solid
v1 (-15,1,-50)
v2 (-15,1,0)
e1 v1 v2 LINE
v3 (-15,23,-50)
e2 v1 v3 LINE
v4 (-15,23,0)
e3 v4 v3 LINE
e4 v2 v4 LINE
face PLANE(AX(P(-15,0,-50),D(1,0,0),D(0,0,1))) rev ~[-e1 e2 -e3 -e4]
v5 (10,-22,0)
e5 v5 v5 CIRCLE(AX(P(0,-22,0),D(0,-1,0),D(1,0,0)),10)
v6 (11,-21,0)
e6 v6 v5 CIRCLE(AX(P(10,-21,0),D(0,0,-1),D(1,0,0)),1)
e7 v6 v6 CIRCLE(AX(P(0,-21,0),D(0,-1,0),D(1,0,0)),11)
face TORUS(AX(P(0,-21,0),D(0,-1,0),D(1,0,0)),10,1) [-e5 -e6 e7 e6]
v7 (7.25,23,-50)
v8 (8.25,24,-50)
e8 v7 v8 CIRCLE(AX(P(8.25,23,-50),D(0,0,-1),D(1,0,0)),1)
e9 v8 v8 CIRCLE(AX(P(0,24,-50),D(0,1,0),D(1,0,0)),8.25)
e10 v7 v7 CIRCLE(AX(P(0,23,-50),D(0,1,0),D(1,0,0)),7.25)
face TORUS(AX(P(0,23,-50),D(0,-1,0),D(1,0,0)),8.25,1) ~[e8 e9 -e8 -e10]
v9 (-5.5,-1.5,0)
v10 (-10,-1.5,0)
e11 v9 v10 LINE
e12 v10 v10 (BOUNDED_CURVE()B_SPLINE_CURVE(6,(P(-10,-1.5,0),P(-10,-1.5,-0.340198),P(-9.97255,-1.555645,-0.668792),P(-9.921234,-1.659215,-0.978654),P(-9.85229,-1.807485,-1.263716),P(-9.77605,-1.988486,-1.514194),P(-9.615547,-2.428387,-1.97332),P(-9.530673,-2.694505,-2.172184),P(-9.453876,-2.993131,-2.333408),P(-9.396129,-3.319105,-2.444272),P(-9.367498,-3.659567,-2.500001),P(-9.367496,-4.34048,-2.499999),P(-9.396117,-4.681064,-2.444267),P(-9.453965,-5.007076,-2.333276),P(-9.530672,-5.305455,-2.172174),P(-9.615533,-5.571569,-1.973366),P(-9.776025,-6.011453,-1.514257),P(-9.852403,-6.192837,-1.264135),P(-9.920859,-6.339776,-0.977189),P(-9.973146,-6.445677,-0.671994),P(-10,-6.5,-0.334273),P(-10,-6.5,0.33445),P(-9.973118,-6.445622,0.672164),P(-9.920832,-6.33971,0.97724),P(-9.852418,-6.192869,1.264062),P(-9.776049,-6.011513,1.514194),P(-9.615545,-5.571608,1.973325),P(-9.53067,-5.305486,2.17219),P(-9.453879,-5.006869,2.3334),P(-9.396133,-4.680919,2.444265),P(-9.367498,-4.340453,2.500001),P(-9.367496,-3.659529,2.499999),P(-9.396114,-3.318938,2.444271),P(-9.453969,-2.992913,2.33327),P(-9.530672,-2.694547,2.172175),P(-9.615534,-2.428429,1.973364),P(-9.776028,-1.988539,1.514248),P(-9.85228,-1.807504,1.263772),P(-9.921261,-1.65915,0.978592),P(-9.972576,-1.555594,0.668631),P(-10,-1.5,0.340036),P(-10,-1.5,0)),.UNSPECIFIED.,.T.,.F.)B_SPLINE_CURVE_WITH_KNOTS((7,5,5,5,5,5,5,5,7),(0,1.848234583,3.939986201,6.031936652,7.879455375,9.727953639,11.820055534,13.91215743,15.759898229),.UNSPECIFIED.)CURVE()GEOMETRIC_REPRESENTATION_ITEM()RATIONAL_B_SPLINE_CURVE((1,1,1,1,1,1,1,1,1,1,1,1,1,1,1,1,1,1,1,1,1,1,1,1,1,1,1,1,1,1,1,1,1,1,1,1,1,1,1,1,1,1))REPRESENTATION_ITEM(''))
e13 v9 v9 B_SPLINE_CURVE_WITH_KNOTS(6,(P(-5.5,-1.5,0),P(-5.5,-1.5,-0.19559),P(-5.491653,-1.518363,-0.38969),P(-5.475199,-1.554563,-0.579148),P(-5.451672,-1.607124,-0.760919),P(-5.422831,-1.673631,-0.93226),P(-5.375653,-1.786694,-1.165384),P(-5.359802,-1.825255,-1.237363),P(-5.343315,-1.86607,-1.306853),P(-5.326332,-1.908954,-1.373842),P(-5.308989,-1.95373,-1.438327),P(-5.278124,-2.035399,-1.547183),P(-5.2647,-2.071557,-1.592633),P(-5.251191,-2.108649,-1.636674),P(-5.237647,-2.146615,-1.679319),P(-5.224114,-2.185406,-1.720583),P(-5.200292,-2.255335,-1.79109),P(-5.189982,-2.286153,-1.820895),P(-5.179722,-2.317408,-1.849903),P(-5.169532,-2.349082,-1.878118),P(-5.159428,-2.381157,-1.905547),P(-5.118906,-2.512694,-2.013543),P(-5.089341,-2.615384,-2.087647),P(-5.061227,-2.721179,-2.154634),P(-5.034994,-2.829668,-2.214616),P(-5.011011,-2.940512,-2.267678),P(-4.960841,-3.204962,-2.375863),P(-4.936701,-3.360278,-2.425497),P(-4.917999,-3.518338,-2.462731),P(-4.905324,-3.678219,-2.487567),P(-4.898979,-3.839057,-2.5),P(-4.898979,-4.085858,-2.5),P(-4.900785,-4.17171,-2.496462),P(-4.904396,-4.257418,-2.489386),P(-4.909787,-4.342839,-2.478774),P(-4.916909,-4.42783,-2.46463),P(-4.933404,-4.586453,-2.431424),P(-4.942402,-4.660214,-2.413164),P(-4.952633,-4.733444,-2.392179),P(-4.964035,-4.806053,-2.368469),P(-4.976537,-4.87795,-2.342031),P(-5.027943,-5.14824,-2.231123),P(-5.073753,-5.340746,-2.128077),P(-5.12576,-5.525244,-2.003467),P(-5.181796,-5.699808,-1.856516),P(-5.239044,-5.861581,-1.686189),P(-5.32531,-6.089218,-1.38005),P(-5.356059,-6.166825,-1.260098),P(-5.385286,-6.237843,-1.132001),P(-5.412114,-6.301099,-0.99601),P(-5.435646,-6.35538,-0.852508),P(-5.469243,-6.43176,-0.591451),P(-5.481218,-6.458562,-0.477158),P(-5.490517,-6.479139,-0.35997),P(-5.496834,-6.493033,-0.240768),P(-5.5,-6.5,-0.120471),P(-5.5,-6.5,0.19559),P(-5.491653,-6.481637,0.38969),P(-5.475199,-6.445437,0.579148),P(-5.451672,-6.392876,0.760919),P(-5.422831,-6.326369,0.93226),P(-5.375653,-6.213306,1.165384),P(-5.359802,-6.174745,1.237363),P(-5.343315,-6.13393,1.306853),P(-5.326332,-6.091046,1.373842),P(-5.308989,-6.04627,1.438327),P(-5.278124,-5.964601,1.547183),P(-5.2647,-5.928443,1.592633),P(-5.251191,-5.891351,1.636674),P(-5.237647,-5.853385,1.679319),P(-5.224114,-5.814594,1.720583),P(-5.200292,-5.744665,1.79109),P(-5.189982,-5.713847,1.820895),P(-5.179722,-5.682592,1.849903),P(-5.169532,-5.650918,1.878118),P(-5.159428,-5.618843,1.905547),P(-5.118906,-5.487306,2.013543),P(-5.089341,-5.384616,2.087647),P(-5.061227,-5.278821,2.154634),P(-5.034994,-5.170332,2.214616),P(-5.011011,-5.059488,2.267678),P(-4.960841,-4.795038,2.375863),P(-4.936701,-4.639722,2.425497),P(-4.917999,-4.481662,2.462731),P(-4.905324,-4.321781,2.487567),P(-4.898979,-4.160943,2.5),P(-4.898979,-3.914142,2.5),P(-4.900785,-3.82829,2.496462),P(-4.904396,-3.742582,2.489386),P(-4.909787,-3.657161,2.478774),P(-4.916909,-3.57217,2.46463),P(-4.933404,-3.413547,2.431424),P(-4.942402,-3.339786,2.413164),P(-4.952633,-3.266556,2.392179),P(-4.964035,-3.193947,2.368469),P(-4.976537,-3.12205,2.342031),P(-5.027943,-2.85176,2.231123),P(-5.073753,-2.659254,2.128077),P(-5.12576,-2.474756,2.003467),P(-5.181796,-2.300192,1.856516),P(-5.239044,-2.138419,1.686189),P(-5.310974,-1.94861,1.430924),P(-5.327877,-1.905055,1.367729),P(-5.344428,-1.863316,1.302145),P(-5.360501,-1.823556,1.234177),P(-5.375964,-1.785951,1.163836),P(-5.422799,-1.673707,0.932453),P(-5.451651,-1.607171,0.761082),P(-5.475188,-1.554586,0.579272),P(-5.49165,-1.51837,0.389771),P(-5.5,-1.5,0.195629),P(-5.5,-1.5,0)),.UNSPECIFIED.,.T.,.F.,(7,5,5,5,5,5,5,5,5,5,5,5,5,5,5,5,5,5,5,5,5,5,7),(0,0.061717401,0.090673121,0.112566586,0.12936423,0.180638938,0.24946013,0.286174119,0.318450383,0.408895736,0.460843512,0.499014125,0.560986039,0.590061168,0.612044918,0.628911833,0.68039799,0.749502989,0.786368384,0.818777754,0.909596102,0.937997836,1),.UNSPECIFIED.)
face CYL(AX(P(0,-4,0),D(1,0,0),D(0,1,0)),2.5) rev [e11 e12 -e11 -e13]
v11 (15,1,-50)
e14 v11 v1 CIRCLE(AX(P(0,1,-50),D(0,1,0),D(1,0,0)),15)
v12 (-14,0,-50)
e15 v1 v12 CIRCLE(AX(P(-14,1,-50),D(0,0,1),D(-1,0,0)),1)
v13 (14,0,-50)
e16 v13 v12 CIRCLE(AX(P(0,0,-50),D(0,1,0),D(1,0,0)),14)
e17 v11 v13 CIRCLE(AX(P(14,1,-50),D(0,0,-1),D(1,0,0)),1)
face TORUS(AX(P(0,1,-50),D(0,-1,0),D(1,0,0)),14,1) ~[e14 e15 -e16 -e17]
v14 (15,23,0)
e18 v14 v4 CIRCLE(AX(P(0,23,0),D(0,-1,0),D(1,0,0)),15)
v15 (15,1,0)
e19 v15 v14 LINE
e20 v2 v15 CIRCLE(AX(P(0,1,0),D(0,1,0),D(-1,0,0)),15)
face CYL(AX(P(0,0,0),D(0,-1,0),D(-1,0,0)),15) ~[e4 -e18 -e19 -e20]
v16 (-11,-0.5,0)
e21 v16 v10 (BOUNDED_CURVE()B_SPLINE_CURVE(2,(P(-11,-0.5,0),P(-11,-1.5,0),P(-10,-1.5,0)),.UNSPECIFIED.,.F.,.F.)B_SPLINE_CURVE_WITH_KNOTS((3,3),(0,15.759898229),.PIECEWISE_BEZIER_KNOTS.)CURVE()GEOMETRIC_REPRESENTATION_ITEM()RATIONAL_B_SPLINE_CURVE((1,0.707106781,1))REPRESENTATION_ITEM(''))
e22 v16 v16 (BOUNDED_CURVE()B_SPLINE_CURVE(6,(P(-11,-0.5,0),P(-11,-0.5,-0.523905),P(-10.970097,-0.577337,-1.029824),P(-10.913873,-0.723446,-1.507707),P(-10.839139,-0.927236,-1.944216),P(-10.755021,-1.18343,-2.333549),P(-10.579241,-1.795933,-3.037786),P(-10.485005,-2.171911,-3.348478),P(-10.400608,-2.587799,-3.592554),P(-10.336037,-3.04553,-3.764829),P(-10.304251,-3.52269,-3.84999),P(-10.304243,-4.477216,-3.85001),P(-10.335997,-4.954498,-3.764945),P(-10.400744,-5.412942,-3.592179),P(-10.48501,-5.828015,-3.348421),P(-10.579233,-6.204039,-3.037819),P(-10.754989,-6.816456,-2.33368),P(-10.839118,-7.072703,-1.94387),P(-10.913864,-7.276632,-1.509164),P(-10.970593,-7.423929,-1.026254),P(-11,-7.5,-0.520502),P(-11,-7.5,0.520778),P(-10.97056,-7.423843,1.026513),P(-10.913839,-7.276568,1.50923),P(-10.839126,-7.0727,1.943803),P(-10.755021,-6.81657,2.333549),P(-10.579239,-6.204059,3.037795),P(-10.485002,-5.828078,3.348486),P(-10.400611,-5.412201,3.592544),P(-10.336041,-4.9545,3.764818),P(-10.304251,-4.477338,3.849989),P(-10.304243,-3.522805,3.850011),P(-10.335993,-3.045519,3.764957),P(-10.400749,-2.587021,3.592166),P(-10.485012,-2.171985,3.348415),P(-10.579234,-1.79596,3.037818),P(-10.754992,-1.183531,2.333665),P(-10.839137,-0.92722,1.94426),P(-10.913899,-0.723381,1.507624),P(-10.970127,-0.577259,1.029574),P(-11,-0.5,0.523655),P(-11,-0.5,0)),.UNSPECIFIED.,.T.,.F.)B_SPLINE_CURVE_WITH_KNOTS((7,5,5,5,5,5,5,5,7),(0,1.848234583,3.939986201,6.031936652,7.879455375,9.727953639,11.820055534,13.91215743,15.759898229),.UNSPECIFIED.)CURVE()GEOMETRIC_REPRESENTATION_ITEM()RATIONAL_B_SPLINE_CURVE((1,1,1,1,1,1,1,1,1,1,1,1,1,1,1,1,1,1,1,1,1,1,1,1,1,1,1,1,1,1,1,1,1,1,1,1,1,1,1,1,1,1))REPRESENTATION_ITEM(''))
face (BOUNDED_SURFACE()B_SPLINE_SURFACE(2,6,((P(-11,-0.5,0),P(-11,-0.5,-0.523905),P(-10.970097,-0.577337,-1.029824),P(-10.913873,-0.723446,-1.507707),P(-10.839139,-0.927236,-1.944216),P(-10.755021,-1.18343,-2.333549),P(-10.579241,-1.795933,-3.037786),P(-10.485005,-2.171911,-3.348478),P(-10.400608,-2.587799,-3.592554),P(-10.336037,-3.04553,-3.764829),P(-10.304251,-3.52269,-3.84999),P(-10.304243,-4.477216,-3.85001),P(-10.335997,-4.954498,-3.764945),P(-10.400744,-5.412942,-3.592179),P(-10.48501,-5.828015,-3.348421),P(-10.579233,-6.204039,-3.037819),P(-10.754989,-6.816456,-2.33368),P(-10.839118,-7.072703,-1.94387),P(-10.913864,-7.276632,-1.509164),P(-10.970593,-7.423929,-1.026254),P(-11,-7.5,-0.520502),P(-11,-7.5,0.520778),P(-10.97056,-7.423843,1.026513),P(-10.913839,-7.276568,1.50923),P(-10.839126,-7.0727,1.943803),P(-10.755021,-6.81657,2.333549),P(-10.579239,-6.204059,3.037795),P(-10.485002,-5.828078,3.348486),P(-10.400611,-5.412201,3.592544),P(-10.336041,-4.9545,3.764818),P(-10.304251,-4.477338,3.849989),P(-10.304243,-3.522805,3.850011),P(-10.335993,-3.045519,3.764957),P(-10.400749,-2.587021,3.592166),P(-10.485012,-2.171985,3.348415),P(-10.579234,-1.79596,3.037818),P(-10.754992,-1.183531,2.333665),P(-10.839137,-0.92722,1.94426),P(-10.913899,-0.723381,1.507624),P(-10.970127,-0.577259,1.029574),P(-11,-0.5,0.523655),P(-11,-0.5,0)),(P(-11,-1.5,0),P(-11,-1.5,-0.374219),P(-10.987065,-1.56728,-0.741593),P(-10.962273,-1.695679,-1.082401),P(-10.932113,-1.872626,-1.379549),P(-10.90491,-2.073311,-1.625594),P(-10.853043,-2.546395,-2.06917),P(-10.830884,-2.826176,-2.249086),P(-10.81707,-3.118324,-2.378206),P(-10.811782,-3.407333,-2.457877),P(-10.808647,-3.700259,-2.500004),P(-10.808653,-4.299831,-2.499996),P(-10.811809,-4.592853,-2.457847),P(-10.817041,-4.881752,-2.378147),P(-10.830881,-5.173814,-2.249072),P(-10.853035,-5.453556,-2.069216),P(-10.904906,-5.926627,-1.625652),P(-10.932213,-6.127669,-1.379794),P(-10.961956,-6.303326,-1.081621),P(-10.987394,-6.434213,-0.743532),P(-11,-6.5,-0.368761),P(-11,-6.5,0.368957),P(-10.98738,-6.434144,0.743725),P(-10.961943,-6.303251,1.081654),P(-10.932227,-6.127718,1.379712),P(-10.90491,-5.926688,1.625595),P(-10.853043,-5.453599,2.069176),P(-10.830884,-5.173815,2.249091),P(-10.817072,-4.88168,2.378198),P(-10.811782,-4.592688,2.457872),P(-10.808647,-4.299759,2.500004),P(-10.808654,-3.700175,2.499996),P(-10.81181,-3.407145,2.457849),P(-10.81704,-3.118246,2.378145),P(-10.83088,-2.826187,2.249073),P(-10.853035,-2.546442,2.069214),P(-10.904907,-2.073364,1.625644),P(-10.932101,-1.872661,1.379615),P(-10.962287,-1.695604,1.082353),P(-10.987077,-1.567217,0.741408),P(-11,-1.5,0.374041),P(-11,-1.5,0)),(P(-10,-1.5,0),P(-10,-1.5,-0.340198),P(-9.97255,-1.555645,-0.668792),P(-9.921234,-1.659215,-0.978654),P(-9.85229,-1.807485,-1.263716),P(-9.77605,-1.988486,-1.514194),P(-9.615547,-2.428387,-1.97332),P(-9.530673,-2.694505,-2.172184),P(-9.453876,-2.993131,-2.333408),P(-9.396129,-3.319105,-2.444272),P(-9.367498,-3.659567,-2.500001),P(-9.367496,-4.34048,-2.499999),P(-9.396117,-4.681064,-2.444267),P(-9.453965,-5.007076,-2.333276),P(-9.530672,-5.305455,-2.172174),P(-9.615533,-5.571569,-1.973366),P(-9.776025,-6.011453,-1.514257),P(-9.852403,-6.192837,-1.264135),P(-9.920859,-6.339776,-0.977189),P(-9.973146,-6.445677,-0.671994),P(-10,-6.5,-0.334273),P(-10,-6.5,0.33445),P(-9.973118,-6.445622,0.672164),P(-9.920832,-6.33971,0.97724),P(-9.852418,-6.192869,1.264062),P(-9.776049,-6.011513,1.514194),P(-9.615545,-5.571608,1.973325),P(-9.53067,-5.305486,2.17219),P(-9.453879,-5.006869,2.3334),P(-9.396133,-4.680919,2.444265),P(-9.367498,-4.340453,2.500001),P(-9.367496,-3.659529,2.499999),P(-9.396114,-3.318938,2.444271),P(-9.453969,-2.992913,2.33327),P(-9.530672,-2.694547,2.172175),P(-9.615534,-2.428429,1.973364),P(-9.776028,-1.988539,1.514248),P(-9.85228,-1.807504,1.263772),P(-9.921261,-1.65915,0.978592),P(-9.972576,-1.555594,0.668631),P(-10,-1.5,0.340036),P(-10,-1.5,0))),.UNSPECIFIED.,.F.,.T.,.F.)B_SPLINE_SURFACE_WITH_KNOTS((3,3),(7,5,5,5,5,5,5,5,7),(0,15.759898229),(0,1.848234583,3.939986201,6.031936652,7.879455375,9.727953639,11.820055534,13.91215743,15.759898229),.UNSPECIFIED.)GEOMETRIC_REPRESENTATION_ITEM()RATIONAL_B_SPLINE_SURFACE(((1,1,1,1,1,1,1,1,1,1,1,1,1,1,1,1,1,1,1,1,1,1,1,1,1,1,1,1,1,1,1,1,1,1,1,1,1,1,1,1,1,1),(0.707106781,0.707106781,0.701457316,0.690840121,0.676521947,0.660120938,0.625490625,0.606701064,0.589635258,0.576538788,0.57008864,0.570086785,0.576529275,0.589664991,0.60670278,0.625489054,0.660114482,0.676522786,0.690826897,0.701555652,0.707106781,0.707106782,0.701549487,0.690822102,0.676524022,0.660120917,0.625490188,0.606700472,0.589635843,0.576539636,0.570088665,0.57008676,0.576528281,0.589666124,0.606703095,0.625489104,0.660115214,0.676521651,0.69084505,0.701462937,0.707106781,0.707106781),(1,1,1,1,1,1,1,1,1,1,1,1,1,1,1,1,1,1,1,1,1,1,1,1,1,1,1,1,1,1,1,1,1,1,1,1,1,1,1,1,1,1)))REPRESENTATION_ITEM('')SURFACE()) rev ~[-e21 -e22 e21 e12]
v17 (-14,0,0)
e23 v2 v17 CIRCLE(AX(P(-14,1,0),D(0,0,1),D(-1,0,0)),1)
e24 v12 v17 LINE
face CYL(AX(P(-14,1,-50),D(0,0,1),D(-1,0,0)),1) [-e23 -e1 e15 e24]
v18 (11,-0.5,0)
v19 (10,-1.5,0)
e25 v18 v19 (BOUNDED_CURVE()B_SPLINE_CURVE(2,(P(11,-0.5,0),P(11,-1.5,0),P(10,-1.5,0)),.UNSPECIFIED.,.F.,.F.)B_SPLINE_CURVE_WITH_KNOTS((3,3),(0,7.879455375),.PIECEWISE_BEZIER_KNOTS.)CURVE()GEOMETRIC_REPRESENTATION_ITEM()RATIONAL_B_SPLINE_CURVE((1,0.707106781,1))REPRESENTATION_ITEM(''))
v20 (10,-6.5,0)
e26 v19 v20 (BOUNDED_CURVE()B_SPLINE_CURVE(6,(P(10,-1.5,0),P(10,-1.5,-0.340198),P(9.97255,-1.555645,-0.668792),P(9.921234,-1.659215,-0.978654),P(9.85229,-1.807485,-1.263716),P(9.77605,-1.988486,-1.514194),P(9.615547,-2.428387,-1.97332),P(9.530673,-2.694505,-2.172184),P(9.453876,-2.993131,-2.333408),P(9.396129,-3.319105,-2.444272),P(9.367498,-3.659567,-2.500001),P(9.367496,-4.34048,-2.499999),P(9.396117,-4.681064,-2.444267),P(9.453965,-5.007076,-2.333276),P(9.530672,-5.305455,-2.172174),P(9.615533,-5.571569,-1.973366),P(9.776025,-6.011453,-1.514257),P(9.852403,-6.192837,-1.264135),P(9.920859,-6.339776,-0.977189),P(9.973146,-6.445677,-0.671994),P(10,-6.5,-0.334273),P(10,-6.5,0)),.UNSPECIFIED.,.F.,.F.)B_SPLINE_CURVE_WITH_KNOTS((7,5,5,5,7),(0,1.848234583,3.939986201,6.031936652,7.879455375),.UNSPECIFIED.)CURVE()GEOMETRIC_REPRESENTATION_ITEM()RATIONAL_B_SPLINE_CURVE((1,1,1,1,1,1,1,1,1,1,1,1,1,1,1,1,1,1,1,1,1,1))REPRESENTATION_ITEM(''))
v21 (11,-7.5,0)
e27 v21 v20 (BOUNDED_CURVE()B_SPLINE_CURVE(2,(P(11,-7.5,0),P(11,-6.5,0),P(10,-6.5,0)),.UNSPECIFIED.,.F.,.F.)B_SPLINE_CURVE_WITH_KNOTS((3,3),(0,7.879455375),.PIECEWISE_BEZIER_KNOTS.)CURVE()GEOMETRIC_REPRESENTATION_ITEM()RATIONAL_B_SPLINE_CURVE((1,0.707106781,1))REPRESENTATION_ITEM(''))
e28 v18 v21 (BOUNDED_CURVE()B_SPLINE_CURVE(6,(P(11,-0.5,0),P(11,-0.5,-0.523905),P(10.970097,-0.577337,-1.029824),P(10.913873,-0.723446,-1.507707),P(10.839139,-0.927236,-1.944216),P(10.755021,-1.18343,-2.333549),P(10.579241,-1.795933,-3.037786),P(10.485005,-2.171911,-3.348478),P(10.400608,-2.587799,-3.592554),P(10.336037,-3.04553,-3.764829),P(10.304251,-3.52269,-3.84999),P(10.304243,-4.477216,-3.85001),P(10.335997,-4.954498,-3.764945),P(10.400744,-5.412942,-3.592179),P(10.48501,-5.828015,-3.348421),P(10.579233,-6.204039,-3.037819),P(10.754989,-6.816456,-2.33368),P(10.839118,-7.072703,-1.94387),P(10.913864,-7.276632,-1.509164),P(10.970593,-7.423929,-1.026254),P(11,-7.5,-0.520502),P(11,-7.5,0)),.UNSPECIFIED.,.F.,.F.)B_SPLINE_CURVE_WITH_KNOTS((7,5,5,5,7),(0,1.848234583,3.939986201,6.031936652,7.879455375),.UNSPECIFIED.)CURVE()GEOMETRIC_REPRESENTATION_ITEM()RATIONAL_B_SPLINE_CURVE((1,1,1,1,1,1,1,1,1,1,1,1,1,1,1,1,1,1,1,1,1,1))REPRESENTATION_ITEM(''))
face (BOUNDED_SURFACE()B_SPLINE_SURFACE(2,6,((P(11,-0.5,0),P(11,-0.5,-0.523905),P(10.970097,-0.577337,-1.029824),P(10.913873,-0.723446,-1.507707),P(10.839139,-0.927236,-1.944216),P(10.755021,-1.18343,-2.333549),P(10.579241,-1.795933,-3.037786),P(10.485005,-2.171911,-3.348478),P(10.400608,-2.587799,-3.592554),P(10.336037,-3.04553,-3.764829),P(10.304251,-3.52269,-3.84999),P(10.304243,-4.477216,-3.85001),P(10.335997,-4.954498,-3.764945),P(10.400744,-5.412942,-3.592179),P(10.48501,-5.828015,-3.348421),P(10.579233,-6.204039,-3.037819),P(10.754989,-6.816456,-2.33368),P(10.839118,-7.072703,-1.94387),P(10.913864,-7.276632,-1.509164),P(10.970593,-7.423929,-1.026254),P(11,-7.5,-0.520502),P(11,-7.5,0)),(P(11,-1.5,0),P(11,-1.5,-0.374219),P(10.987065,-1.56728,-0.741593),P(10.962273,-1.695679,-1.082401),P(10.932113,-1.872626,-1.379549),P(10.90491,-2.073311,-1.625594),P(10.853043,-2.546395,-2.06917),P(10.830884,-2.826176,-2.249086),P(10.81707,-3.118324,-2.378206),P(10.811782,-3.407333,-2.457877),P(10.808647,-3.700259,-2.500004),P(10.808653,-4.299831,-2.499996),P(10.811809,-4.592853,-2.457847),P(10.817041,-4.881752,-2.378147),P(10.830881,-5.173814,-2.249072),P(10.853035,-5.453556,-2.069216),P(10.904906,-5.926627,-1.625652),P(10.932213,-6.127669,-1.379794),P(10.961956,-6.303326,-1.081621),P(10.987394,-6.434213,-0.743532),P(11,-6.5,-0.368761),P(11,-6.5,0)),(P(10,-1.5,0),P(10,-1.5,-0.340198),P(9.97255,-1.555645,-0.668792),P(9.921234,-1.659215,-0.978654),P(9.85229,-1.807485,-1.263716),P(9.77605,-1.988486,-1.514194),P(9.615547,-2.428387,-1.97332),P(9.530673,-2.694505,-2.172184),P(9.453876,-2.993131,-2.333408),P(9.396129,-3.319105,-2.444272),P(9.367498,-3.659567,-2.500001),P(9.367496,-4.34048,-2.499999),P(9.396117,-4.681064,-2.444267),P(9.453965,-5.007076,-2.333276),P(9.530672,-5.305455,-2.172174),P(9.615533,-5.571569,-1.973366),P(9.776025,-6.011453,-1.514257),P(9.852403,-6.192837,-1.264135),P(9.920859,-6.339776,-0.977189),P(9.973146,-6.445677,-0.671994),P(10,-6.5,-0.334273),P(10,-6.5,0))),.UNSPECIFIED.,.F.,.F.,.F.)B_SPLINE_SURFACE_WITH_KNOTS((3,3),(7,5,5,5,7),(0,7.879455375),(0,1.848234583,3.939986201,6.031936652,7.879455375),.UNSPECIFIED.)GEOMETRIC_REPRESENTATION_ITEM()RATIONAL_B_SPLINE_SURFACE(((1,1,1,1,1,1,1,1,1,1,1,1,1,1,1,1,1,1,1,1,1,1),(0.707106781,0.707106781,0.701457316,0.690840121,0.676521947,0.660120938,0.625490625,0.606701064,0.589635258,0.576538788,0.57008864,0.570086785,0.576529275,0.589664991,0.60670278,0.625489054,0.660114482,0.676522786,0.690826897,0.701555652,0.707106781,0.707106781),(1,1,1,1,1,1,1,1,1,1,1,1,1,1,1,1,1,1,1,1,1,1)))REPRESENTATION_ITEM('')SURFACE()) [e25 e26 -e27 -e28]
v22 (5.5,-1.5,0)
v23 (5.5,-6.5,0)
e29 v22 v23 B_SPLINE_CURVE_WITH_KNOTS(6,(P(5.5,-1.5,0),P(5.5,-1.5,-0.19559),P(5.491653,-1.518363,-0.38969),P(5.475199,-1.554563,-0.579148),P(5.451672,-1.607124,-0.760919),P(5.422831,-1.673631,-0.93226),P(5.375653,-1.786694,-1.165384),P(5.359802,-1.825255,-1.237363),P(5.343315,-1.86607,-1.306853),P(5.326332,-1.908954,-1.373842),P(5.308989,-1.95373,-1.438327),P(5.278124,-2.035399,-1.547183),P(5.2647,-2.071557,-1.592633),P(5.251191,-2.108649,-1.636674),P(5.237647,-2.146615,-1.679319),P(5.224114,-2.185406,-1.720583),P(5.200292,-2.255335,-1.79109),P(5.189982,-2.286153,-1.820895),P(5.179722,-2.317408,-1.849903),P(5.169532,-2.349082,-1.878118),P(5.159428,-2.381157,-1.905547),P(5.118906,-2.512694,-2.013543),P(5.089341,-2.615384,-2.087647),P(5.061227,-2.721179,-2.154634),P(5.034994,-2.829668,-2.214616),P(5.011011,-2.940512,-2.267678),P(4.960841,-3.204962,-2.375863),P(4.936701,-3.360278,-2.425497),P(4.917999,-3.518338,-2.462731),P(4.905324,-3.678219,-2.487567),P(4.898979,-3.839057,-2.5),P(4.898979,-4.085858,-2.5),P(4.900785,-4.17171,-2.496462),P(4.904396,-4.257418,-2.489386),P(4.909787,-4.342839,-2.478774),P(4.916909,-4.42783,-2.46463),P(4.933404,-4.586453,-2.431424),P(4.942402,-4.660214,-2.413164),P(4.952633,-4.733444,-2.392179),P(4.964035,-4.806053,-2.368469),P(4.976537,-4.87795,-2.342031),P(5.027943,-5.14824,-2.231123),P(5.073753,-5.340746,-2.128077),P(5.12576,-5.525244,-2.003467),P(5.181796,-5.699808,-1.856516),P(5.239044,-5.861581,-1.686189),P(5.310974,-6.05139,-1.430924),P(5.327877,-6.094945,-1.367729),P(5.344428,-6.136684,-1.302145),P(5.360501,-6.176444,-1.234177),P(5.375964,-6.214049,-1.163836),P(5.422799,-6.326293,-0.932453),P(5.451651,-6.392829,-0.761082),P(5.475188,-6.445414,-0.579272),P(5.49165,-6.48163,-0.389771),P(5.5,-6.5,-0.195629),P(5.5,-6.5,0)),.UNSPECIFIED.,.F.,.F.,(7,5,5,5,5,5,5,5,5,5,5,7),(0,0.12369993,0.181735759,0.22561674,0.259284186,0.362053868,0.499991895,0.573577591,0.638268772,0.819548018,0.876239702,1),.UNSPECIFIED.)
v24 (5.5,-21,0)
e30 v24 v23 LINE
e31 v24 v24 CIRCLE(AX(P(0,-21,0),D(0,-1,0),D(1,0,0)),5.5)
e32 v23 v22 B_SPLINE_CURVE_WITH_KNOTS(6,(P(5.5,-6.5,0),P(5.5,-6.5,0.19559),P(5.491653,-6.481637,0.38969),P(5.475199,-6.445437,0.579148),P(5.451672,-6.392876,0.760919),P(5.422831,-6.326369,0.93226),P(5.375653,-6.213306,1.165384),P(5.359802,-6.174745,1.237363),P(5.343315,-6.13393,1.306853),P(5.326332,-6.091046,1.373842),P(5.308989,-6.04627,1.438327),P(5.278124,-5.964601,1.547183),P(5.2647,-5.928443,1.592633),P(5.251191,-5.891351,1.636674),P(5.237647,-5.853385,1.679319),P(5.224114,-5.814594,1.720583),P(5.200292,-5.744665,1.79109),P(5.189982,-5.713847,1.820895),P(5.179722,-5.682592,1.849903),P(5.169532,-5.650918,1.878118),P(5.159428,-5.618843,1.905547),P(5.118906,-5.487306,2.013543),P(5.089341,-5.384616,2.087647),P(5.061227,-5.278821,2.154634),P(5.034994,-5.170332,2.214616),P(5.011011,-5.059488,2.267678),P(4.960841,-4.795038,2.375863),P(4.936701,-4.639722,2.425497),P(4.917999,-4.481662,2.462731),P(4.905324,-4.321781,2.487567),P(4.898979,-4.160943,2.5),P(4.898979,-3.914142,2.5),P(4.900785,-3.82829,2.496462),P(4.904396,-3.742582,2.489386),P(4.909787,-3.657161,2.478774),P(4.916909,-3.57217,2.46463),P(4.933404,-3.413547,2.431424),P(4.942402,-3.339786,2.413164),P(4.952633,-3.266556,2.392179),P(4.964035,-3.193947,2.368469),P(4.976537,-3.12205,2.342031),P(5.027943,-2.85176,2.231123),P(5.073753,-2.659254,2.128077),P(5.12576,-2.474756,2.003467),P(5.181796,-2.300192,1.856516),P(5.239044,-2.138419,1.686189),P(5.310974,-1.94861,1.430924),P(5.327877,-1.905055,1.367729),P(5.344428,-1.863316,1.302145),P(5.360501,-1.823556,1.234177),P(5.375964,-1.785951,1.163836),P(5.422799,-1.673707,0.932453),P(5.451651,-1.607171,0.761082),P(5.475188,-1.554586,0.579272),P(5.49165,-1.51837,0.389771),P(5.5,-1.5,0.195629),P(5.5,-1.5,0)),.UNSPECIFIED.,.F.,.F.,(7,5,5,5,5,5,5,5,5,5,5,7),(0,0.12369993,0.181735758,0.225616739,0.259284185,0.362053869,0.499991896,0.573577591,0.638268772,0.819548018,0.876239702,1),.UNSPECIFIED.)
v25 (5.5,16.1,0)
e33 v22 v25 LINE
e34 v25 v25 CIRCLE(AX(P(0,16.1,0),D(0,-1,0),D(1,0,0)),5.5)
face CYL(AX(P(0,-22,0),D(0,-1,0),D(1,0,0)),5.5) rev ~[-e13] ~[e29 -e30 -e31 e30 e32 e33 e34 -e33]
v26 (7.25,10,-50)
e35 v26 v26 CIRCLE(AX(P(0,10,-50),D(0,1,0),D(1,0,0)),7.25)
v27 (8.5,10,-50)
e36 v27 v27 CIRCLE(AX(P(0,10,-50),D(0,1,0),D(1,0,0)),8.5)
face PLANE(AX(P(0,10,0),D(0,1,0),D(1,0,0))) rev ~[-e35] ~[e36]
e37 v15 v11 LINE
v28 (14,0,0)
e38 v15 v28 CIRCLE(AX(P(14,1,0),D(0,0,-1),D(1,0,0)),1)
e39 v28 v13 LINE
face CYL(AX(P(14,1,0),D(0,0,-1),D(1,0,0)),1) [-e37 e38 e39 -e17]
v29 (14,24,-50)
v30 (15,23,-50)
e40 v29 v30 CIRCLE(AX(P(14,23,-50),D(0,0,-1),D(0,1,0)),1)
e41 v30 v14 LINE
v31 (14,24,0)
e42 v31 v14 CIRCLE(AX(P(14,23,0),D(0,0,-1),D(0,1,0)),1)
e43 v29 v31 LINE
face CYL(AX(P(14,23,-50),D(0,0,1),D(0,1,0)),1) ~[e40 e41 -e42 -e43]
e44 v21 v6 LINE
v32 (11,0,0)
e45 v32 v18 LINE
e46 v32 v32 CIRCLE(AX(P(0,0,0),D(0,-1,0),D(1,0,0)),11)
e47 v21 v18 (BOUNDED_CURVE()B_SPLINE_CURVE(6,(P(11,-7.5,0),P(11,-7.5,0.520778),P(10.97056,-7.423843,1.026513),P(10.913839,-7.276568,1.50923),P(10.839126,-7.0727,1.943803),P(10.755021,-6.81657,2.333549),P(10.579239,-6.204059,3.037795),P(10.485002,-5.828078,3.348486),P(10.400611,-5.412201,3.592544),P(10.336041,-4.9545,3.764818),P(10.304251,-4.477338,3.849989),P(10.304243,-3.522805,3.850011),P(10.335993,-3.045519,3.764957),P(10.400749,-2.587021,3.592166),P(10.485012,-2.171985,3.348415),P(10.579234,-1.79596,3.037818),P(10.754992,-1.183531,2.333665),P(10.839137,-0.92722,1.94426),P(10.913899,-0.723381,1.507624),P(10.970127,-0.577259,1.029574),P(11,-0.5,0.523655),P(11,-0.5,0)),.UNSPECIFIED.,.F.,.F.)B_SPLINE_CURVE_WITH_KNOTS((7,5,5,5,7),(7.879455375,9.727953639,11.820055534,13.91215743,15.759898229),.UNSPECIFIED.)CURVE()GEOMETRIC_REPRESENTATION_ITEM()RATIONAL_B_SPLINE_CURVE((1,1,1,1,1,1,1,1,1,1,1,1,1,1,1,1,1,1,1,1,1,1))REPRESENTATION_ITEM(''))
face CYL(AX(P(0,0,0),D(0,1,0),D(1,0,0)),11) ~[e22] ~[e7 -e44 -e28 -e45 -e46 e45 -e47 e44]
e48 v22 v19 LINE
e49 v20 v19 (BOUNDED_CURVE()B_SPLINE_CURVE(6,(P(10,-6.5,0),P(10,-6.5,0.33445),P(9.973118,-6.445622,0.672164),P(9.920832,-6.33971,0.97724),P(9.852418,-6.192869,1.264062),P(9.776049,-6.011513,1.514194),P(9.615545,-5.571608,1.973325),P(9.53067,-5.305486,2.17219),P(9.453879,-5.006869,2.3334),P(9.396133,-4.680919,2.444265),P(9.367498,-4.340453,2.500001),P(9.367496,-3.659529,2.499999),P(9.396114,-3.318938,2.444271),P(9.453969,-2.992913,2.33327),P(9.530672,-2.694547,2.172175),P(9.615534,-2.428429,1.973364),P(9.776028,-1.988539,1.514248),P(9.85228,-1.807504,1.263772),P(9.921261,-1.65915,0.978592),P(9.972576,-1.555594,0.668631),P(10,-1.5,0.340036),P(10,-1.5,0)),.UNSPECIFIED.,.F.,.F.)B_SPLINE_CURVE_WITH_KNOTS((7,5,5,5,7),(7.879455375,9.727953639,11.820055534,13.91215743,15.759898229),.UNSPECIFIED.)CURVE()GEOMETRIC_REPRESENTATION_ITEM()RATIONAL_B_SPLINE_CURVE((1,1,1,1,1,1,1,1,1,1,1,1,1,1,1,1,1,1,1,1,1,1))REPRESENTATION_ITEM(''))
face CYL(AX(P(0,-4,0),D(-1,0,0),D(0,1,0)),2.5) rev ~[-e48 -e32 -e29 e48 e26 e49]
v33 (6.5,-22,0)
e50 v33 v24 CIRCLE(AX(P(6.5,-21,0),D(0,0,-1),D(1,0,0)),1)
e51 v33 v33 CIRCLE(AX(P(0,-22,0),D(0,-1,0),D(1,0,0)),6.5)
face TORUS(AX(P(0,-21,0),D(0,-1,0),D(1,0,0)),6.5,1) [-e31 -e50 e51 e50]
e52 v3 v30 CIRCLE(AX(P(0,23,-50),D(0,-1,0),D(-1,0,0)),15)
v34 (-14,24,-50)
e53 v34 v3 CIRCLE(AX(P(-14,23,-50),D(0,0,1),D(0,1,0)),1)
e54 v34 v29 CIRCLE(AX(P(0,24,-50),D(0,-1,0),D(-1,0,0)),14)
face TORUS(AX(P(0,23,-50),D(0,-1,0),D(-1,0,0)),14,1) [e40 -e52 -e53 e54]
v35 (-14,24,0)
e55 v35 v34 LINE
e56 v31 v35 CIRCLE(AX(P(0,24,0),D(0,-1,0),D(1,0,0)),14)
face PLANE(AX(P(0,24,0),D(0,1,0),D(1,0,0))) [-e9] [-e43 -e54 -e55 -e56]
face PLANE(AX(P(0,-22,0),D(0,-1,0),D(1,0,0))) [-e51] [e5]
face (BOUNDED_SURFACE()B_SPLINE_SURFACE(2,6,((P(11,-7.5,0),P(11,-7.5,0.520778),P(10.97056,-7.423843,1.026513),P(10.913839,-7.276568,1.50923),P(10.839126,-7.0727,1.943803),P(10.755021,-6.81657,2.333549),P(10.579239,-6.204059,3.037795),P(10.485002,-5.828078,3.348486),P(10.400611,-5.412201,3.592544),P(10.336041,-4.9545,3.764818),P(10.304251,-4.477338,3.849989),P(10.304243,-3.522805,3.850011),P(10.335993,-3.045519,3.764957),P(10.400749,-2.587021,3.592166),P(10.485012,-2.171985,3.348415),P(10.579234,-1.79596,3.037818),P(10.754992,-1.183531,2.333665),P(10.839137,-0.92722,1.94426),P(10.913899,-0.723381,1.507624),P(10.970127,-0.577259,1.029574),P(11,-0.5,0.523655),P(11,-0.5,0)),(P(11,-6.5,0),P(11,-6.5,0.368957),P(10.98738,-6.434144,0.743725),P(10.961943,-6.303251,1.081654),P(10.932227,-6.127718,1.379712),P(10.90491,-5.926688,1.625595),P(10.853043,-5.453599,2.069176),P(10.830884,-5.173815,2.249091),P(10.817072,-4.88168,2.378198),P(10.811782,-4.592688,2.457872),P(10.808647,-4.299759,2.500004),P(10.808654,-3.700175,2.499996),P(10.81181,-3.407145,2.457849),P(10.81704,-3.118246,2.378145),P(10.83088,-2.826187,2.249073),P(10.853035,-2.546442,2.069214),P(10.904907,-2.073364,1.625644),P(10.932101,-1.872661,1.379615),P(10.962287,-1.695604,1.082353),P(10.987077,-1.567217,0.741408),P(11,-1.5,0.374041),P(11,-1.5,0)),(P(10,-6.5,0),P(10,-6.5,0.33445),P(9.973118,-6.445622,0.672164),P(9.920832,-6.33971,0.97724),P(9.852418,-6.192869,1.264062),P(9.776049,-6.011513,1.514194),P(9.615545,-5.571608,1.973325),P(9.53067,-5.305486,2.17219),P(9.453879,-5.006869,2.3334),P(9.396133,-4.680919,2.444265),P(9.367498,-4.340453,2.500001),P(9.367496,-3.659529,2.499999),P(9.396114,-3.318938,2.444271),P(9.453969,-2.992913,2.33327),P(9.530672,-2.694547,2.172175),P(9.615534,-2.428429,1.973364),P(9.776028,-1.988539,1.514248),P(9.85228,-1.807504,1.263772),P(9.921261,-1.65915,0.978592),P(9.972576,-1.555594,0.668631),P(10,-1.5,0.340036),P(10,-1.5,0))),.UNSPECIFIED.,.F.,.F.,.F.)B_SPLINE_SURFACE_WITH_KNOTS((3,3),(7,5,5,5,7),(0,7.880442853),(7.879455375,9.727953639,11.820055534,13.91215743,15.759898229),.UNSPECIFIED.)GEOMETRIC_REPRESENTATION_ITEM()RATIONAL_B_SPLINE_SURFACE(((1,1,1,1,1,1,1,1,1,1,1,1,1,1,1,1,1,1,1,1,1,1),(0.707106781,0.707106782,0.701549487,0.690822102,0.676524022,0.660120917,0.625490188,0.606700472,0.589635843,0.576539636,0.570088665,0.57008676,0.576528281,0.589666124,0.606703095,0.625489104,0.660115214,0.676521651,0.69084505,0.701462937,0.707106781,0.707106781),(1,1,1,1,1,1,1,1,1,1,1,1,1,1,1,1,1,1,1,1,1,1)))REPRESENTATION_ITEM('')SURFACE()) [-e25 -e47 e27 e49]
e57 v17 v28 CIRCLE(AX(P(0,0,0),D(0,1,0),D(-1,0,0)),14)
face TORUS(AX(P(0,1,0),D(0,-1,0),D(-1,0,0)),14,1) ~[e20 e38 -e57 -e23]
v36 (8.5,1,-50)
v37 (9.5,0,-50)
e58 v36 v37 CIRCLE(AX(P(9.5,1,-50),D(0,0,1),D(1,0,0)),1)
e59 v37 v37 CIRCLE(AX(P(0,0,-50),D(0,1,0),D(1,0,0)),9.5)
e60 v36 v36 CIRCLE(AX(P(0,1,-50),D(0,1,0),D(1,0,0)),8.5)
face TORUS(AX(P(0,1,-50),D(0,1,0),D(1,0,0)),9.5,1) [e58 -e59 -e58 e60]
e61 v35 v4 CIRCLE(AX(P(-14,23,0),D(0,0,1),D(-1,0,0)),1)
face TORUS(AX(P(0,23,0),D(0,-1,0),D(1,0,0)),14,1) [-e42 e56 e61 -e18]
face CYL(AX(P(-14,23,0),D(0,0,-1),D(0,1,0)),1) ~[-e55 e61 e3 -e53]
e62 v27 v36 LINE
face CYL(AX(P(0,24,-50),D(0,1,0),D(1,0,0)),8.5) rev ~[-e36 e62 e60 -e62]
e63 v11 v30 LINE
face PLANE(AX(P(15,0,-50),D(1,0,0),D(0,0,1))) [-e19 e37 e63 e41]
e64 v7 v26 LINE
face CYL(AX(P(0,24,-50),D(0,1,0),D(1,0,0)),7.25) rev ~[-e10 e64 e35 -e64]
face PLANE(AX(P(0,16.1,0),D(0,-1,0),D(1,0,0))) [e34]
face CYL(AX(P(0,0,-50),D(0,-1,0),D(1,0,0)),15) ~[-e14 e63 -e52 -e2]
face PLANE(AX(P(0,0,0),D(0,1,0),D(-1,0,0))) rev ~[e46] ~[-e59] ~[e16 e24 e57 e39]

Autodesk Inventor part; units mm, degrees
ref_plane "YZ Plane" through (0, 0, 0) normal (1, 0, 0) x (0, 1, 0)
ref_plane "XZ Plane" through (0, 0, 0) normal (0, 1, 0) x (-1, 0, 0)
ref_plane "XY Plane" through (0, 0, 0) normal (0, 0, 1) x (1, 0, 0)
sketch "Sketch1" plane through (0, 0, 0) normal (0, 1, 0) x (-1, 0, 0)
  line L0 (0, 0) -> (58.9699, 0) construction
  line L1 (0, 0) -> (-34.9844, 0) construction
  line L2 (54.4643, -50) -> (-40.1402, -50) construction
  line L3 (0, 6.721) -> (0, -67.757)
  arc A0 (15, 0) -> (-15, 0) centre (0, 0) ccw
  arc A1 (-15, -50) -> (15, -50) centre (0, -50) ccw
  line L4 (-15, -50) -> (-15, 0)
  line L5 (15, -50) -> (15, 0)
  dimension "d7" = 50
  dimension "d8" = 15
  dimension "d9" = 15
extrude "Extrusion1" add sketch "Sketch1" along normal blind 24
sketch "Sketch2" plane through (0, 0, 0) normal (0, -1, 0) x (1, 0, 0)
  circle A0 centre (0, 0) radius 11
  dimension "d12" = 22
extrude "Extrusion2" add sketch "Sketch2" along normal blind 22
sketch "Sketch8" plane through (0, -22, 0) normal (0, -1, 0) x (1, 0, 0)
  circle A0 centre (0, 0) radius 5.5
  dimension "d26" = 11
extrude "Extrusion6" cut sketch "Sketch8" against normal blind 38.1
sketch "Sketch10" plane through (0, 24, 0) normal (0, 1, 0) x (1, 0, 0)
  line L0 (0, 0) -> (0, 50) construction
  circle A0 centre (0, 50) radius 8.5
  dimension "d38" = 50
  dimension "d39" = 17
extrude "Extrusion8" cut sketch "Sketch10" against normal through all
sketch "Sketch11" plane through (0, 24, 0) normal (0, 1, 0) x (1, 0, 0)
  circle A0 centre (0, 50) radius 8.5 projected
  circle A1 centre (0, 50) radius 8.5
  circle A2 centre (0, 50) radius 7.25
  point P0 (0, 0)
  dimension "d42" = 14.5
extrude "Extrusion9" add sketch "Sketch11" against normal blind 14
ref_plane "Work Plane1" through (0, -22, 0) normal (-1, 0, 0) x (0, 1, 0)
sketch "Sketch9" plane through (0, -22, 0) normal (-1, 0, 0) x (0, 1, 0)
  line L0 (0, 11) -> (0, -11) construction
  line L1 (0, -11) -> (24, -11) construction
  line L2 (24, -11) -> (24, 11) construction
  line L3 (24, 11) -> (0, 11) construction
  line L4 (0, 11) -> (0, -11) construction
  line L5 (0, -5.5) -> (0, 5.5) construction
  line L6 (0, 0) -> (18, 0) construction
  circle A0 centre (18, 0) radius 2.5
  point P0 (22, 0)
  dimension "d33" = 18
  dimension "d34" = 5
extrude "Extrusion7" cut sketch "Sketch9" along normal through all both and the other way through all
fillet "Fillet1" radius 1 14 edges at (15, 24, -25) (-15, 24, -25) (0, 24, 15) (-5.5, -22, 0) (0, 0, 15) (15, 0, -25) (0, 0, -65) (-15, 0, -25) (10.7121, -3.9998, -2.5) (10.7121, -4.0003, 2.5) (-11, -6.5, 0.0006) (-11, -22, 0) (-7.25, 24, -50) (-8.5, 0, -50)
sketch "Sketch12" plane through (0, -22, 0) normal (-1, 0, 0) x (0, 1, 0)
  line L0 (50.4549, -17.897) -> (-1.3047, -17.897)
  line L1 (-1.3047, -17.897) -> (-1.3047, 67.7253)
  line L2 (-1.3047, 67.7253) -> (50.4549, 67.7253)
  line L3 (50.4549, 67.7253) -> (50.4549, -17.897)
  point P0 (22, 0)
extrude "Extrusion10" [suppressed]
properties part number "replacementHandleStuipt"
